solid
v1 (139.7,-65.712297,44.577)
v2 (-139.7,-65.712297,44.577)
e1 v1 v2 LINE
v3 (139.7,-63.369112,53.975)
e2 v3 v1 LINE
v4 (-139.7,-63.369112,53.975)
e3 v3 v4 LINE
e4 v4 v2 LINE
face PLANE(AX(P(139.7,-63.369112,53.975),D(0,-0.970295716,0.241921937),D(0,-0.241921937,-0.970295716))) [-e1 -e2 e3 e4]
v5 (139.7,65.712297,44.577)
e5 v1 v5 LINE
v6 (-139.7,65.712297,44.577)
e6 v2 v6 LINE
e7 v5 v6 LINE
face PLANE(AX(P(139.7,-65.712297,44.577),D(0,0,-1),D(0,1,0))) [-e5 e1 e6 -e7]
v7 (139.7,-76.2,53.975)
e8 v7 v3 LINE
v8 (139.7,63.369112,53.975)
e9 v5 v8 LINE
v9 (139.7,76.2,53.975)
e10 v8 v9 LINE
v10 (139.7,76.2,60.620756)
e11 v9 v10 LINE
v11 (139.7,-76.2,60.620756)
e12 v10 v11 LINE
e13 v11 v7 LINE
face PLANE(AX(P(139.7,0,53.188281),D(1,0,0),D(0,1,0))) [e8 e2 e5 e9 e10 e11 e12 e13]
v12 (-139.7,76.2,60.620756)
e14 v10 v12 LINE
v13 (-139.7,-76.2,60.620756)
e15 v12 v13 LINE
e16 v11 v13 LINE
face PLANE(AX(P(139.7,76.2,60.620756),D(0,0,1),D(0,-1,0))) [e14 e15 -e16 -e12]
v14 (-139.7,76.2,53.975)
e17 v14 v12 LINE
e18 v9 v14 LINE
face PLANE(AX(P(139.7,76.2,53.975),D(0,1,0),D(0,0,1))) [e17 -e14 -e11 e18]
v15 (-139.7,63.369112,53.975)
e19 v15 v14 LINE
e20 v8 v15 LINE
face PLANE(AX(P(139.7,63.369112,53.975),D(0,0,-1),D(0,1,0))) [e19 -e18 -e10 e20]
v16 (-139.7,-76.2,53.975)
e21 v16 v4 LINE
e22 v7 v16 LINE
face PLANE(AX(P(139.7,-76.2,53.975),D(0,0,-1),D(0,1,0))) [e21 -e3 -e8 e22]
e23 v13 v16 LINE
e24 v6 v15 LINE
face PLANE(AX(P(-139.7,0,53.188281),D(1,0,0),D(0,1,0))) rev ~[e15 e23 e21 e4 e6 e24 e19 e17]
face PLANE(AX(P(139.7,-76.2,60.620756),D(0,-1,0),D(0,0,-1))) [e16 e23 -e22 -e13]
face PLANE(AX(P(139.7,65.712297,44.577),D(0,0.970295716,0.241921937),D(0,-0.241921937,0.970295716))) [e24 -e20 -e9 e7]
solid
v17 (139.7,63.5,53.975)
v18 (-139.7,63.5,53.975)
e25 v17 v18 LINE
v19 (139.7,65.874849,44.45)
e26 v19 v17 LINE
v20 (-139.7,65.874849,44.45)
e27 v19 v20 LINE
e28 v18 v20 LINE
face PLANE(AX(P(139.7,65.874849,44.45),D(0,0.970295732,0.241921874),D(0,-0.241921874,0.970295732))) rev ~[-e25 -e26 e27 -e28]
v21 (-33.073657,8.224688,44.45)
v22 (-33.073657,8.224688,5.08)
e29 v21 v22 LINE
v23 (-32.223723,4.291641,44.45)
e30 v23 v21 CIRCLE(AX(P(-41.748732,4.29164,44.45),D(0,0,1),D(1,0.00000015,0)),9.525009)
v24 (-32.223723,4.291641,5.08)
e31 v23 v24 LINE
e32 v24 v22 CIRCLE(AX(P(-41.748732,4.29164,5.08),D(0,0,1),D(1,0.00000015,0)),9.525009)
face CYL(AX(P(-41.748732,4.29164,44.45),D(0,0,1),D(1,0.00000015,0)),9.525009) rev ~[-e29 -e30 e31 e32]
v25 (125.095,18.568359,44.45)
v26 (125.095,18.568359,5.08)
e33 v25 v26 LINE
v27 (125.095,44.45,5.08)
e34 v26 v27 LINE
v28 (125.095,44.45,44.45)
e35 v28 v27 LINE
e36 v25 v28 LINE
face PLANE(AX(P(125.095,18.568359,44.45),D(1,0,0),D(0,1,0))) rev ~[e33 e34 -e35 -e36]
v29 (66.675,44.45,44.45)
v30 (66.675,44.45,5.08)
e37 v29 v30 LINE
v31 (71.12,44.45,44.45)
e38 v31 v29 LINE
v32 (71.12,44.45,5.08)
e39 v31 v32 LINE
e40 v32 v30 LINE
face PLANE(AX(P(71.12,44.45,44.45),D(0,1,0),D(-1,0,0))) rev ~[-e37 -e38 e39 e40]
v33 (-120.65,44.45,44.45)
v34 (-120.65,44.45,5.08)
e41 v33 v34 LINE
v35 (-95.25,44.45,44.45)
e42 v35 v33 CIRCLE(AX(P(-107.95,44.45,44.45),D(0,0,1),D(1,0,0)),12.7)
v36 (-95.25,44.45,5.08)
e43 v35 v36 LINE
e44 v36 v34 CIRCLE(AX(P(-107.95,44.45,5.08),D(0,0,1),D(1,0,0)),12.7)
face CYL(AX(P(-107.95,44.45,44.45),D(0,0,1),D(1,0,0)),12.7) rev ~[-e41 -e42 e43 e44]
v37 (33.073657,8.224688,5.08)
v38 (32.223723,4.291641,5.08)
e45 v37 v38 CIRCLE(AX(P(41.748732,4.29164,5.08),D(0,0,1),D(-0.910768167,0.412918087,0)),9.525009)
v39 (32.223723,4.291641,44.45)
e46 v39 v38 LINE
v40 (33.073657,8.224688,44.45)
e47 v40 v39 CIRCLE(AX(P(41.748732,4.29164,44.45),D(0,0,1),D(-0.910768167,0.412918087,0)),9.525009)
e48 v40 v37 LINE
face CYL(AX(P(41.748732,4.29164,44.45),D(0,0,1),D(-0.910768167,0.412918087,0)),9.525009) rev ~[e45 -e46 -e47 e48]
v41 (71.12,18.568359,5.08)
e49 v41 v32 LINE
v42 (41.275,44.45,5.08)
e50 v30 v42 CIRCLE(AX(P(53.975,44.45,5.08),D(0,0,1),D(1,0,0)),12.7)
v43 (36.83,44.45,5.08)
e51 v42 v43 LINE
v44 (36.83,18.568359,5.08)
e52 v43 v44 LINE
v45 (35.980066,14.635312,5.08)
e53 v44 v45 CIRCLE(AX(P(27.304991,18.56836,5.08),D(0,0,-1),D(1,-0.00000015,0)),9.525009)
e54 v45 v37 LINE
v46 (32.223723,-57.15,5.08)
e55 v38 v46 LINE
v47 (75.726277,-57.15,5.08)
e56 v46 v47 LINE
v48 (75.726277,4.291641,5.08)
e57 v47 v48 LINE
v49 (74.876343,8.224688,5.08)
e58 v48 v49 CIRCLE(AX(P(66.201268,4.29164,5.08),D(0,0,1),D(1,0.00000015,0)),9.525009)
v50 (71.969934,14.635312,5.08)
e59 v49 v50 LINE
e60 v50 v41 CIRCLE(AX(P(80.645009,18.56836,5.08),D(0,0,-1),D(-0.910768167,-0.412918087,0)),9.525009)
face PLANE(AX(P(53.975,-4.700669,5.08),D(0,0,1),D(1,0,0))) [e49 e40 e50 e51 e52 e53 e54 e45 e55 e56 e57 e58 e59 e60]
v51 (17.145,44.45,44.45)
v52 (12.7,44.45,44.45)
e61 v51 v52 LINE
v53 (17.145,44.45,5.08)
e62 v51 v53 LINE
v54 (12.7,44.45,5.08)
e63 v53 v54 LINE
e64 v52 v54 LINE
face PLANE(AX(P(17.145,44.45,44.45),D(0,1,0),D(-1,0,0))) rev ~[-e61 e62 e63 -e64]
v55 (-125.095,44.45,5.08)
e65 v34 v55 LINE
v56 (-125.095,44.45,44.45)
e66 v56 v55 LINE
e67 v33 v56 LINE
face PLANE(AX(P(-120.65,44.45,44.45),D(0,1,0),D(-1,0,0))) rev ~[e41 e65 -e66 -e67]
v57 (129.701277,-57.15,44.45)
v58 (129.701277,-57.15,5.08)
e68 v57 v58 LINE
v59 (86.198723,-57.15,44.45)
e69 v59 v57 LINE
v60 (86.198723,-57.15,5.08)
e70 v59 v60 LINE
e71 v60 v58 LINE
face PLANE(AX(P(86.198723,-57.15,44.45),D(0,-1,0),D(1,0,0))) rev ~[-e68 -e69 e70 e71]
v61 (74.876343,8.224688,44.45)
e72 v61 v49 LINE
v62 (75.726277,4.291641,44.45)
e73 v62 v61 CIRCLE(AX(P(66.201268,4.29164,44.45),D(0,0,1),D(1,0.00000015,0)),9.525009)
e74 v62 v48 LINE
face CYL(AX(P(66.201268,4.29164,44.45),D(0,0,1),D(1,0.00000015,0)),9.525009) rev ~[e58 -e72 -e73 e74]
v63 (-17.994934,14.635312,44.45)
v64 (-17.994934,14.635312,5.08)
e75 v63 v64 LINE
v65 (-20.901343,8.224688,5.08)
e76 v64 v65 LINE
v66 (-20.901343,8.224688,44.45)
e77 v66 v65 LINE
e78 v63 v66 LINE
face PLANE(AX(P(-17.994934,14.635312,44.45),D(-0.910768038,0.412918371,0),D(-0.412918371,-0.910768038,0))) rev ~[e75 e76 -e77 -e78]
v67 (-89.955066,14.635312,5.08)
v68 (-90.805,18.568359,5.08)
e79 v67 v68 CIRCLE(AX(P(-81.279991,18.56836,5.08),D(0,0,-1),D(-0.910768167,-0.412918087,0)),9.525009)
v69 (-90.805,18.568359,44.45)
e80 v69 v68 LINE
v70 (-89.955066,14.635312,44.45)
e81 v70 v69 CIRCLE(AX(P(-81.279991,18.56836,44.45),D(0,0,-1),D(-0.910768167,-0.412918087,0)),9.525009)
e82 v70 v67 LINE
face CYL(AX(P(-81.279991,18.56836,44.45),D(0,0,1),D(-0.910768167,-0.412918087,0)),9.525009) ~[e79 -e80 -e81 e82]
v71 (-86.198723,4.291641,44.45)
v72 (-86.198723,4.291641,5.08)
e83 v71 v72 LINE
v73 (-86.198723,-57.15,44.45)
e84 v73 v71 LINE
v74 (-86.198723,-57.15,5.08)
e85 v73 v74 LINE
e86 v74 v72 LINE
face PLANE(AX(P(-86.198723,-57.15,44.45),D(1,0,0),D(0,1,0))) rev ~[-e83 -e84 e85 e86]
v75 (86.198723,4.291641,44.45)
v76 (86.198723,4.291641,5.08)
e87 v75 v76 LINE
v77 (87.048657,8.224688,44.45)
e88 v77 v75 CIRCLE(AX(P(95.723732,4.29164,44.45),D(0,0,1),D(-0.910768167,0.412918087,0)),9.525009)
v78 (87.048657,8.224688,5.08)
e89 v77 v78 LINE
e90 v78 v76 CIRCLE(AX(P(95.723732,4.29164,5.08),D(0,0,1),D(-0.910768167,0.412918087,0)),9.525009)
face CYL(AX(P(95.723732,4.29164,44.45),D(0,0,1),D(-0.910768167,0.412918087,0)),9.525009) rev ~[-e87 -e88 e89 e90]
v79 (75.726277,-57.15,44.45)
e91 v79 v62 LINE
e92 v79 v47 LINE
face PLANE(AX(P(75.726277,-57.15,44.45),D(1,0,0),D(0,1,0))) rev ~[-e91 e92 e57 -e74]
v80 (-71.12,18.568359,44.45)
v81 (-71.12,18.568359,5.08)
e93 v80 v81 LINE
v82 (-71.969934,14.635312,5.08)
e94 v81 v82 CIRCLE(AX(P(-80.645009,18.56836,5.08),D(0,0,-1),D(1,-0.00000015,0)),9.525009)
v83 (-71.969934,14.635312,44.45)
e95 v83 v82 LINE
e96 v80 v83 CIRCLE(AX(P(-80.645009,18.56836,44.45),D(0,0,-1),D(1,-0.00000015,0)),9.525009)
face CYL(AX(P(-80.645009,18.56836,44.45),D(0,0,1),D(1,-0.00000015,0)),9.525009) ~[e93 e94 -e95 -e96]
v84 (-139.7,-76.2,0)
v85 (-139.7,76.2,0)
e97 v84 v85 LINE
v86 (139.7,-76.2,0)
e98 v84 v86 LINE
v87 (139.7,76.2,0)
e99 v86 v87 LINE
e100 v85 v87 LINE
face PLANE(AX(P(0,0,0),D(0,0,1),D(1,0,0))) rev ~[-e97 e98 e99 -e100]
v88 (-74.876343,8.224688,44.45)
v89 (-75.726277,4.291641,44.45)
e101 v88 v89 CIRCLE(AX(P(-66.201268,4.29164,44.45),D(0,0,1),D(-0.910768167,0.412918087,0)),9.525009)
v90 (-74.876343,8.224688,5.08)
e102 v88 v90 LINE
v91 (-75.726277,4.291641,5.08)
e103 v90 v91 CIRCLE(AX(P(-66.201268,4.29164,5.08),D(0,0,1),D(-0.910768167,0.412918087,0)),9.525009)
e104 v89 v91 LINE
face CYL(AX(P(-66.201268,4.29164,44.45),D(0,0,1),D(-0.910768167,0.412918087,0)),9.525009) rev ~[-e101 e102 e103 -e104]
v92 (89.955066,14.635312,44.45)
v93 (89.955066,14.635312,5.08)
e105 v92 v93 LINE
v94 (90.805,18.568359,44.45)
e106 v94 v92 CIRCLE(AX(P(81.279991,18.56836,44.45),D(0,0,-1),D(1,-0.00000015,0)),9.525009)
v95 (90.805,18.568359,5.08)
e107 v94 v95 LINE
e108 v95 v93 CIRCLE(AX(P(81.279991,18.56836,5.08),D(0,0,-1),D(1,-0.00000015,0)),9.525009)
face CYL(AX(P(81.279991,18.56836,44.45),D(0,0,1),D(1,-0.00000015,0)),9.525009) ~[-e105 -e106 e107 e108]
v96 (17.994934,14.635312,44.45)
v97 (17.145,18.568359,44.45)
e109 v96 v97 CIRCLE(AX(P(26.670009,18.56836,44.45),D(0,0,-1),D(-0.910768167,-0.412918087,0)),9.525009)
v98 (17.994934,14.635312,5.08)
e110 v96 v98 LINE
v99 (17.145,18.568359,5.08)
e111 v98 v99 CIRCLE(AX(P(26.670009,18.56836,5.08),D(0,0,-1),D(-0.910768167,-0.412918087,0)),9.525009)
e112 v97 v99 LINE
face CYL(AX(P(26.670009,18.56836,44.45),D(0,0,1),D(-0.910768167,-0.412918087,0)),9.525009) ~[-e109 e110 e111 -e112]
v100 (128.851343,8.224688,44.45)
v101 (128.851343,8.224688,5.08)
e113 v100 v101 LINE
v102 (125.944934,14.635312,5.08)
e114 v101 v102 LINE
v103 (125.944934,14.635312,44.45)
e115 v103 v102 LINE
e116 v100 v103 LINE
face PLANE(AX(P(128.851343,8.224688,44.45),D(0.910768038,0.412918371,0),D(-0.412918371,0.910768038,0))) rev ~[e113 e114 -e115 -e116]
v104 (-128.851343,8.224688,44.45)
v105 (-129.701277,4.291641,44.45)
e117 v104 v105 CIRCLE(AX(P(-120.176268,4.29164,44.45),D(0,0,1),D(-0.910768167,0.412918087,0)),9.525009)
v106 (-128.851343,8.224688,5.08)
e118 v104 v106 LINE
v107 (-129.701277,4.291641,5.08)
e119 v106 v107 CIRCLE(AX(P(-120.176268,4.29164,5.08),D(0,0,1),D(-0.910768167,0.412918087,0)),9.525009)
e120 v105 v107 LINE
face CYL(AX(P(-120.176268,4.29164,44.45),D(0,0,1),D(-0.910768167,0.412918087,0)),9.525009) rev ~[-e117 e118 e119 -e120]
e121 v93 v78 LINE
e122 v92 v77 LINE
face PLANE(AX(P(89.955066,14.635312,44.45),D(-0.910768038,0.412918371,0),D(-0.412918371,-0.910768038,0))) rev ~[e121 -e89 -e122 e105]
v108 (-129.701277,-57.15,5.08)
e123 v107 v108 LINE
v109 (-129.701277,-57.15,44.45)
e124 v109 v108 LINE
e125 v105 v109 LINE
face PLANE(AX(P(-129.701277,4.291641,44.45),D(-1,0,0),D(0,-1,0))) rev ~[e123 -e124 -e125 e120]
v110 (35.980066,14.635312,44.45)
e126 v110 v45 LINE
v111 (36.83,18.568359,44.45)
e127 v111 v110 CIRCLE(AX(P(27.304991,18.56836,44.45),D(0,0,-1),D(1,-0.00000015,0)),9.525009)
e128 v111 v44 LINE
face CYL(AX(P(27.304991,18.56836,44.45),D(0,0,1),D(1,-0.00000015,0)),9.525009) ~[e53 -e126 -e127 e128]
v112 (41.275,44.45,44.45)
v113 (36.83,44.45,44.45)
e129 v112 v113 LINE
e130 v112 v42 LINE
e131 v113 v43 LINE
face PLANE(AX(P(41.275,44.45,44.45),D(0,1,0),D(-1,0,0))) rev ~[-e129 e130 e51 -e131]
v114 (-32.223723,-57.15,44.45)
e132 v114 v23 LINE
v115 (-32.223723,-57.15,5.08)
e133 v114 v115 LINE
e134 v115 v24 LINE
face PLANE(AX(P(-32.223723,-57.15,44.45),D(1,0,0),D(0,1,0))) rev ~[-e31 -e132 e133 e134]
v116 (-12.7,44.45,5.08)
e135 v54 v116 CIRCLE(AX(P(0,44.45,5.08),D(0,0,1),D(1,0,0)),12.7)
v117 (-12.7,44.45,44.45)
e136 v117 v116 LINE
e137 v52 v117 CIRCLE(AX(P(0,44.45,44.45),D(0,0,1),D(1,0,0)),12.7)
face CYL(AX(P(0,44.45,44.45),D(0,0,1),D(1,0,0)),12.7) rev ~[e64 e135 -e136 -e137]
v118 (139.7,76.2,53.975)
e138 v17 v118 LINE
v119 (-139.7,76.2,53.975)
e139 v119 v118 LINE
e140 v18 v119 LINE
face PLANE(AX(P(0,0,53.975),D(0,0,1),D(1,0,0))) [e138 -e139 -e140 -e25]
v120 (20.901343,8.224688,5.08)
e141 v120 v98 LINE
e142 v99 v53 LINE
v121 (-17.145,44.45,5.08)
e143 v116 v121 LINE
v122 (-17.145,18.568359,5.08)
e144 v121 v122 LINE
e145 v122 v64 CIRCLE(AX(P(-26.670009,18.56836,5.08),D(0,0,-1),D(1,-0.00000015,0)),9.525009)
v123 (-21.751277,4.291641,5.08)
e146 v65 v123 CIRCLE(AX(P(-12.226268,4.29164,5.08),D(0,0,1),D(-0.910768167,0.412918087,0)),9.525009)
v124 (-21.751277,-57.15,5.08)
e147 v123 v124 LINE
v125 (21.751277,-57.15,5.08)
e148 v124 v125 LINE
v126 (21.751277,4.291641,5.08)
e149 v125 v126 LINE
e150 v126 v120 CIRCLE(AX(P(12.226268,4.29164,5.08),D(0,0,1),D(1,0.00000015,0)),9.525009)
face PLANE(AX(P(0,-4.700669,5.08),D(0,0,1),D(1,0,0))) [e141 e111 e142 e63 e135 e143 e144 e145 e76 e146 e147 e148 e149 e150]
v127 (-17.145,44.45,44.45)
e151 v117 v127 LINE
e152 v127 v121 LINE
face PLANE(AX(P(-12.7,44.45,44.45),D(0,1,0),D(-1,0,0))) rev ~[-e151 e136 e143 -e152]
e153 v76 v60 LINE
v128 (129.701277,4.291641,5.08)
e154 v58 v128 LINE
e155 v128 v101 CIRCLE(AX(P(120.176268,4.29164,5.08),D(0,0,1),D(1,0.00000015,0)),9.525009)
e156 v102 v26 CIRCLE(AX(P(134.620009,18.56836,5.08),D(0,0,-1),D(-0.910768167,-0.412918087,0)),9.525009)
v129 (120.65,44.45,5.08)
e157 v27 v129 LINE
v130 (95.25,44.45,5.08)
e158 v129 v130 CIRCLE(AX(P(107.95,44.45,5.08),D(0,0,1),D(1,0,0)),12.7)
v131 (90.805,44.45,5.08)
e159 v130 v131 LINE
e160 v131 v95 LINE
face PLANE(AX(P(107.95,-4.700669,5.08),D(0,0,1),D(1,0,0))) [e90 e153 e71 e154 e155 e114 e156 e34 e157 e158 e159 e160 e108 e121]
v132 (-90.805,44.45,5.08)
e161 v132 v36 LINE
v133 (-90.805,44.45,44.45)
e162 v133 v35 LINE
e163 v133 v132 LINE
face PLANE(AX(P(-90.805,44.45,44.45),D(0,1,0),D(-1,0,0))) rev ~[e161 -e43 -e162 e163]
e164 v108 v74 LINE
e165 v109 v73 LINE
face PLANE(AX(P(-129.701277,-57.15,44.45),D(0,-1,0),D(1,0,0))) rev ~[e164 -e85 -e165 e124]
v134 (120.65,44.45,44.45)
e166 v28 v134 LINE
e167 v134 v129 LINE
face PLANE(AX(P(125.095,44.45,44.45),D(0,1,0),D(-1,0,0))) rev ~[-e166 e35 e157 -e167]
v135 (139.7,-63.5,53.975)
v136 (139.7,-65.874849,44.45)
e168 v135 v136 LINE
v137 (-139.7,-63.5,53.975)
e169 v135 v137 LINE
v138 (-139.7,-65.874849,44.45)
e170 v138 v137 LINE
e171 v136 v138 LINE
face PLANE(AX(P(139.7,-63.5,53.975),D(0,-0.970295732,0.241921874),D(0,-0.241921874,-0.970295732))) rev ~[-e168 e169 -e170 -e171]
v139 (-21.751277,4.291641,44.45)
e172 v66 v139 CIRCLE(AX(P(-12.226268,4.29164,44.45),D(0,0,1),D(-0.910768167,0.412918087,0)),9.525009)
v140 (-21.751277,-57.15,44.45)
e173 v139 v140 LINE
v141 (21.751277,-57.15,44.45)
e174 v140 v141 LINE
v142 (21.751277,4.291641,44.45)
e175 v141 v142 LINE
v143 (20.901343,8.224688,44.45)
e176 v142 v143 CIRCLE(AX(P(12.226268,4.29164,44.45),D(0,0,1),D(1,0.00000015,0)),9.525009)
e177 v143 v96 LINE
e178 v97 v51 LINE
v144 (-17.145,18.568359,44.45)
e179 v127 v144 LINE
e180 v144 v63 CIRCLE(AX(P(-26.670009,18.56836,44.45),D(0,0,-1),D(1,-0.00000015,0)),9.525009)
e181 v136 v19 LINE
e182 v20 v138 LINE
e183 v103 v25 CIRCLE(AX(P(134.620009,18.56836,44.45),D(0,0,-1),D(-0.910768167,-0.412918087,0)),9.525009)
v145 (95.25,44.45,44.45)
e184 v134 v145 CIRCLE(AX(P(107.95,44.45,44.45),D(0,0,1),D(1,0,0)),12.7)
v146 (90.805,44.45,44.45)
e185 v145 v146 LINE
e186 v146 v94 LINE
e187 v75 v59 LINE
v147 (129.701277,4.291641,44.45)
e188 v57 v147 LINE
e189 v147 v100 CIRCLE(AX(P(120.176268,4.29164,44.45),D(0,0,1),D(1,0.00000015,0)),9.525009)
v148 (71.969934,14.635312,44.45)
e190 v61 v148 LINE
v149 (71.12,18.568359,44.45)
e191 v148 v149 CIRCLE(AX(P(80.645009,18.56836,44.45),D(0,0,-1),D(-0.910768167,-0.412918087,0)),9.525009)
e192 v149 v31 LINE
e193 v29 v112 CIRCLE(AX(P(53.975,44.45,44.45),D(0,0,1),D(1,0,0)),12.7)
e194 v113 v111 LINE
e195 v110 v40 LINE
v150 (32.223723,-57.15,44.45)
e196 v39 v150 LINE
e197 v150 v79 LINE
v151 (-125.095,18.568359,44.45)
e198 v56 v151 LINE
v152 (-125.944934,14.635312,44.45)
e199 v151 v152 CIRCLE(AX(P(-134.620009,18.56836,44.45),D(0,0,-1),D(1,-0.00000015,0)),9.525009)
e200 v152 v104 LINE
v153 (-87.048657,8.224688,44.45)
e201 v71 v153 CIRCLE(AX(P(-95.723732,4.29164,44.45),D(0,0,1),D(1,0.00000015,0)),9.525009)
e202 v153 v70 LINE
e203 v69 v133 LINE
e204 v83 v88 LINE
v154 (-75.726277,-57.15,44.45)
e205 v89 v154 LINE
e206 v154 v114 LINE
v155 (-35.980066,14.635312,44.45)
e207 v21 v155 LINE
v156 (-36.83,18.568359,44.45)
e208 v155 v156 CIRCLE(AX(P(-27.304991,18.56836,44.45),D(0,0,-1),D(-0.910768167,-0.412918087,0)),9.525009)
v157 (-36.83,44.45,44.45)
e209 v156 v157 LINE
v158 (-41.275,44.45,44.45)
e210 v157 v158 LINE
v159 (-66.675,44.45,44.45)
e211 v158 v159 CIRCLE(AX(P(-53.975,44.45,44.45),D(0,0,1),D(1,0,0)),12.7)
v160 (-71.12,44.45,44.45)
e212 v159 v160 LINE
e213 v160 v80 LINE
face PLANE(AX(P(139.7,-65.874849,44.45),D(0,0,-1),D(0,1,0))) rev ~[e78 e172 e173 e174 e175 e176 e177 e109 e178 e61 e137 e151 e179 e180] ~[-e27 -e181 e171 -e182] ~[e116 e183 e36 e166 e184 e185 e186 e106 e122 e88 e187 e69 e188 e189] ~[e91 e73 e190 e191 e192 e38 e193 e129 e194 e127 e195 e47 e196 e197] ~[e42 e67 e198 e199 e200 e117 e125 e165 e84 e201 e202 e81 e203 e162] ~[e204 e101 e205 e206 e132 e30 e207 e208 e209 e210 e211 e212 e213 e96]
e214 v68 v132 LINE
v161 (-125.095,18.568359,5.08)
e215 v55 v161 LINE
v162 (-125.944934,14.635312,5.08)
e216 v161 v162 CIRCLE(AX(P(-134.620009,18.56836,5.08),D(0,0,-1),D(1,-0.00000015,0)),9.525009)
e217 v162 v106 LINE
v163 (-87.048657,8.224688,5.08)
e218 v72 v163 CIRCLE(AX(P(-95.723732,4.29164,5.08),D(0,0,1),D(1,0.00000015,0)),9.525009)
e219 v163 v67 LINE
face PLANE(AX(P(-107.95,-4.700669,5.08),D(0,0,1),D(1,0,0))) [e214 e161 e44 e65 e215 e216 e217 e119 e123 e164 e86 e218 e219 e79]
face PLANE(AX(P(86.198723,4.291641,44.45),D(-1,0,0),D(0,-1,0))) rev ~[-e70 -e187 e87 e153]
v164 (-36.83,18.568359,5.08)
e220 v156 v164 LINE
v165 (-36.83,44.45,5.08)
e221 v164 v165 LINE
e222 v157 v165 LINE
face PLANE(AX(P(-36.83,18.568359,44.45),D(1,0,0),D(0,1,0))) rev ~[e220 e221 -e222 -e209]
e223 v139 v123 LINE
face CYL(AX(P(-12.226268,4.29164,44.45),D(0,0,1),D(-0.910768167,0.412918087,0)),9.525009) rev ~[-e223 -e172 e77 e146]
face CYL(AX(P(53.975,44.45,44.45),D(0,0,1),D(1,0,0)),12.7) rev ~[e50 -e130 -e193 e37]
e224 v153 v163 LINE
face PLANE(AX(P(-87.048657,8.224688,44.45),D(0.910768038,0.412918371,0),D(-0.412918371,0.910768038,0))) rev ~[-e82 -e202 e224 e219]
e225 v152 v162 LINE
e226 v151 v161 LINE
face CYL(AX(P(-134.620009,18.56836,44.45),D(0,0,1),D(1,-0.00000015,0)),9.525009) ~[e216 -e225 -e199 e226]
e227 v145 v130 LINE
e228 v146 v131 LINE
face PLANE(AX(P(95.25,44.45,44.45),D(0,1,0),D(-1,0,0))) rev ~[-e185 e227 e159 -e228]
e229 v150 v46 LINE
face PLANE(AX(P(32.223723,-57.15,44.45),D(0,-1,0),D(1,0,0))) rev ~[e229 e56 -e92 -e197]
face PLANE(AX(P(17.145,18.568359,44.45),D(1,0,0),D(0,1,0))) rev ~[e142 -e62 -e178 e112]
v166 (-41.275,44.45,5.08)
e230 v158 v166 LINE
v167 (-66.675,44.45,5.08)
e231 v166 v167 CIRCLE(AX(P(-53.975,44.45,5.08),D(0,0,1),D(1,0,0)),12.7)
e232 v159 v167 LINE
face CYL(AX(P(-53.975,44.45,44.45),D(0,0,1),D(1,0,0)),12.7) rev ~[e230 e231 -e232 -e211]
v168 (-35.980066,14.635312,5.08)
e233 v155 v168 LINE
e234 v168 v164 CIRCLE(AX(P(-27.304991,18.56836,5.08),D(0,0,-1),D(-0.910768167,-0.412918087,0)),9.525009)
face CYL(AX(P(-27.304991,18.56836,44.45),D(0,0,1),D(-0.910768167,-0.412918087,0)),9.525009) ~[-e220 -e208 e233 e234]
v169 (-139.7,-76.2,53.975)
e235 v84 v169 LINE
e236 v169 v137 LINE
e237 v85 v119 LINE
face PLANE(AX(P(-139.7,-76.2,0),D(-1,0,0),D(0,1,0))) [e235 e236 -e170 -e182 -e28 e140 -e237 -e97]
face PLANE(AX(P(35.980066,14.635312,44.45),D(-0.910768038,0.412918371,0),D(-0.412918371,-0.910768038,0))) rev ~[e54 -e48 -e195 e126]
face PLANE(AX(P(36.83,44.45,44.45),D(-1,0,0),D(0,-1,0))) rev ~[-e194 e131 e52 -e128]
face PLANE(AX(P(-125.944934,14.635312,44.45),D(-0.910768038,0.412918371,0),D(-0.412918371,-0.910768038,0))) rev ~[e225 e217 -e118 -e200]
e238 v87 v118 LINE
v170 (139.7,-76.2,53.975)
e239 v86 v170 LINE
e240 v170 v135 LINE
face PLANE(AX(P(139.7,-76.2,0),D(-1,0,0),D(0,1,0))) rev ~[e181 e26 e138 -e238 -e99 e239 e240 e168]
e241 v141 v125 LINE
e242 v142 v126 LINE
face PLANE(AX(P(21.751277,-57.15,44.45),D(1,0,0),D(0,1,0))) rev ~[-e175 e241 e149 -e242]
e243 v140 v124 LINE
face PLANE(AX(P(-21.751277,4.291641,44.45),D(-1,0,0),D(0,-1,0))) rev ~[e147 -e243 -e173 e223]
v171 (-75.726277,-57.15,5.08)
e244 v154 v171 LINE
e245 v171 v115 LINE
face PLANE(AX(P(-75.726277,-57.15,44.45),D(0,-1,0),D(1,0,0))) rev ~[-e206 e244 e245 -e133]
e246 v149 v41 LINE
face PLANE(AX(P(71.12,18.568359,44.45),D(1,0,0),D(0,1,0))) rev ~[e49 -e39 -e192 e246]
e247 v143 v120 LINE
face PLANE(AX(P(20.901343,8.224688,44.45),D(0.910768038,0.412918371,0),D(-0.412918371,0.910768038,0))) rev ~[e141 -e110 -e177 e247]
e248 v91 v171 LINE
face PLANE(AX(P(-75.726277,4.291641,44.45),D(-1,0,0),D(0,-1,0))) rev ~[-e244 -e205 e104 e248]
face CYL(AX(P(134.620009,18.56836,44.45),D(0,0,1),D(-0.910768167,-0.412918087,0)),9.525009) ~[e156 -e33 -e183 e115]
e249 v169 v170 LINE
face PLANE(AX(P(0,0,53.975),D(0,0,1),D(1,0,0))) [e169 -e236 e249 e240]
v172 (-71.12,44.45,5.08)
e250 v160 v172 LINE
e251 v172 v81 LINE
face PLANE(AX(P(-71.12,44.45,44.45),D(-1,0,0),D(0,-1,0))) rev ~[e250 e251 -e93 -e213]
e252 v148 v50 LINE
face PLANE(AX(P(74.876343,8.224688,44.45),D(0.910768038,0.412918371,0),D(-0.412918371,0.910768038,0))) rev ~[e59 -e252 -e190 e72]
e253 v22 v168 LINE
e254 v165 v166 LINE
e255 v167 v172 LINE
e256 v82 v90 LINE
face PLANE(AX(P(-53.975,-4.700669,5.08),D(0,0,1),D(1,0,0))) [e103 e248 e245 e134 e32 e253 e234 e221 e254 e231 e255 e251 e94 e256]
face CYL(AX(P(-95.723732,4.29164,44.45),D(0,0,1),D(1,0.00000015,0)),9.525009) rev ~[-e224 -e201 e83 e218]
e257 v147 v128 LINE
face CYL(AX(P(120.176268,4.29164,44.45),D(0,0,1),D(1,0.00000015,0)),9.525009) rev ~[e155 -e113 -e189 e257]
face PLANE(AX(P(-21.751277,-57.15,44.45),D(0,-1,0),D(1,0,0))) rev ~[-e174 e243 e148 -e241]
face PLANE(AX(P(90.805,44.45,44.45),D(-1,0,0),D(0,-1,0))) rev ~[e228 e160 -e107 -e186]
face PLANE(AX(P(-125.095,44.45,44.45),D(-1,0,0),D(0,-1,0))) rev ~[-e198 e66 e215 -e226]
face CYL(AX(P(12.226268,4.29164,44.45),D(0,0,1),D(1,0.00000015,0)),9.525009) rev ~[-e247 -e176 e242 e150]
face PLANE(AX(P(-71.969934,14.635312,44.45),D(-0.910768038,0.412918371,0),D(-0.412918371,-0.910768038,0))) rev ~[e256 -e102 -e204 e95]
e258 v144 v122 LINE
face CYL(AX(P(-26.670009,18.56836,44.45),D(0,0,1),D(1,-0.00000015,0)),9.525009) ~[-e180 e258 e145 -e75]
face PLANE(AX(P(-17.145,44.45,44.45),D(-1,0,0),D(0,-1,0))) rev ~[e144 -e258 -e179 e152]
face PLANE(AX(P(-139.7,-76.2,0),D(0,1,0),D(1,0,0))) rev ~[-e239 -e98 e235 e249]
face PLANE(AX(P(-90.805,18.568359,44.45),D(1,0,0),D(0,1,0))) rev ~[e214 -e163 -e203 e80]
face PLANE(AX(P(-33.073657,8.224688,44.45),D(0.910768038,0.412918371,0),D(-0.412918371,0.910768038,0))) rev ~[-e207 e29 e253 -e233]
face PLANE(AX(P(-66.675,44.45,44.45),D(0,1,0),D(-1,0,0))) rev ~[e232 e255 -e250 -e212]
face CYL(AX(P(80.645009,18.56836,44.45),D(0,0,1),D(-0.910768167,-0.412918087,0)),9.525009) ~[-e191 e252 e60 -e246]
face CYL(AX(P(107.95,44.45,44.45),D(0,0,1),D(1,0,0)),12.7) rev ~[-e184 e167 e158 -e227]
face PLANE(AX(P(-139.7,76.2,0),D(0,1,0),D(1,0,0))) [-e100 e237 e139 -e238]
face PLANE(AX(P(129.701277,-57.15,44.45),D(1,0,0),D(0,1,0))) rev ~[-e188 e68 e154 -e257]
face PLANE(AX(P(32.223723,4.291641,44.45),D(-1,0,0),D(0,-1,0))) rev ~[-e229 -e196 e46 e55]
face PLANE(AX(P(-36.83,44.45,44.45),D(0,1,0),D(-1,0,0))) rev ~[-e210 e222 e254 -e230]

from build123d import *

# Parameters (mm, degrees)
F0_W     = 279.4
F0_H     = 152.4
F1_DEPTH = 53.975
F3_DEPTH = 279.401
F5_DEPTH = 39.37
F7_DEPTH = 279.4


with BuildPart() as f1:
    # F0 (on Top) → F1 (new body)
    with BuildSketch(Plane.XY):
        Rectangle(F0_W, F0_H)
    extrude(amount=F1_DEPTH)

    # F2 (on face) → F3 (cut, through all)
    with BuildSketch(Plane.YZ.offset(139.7)):
        Polygon((-63.5, 53.975), (-65.874849, 44.45), (65.874849, 44.45), (63.5, 53.975), align=None)
    extrude(amount=-F3_DEPTH, mode=Mode.SUBTRACT)

    # F4 (on face) → F5 (cut)
    with BuildSketch(Plane.XY.offset(44.45)):
        with BuildLine():
            Line((-129.701277, -57.15), (-86.198723, -57.15))
            Line((-86.198723, -57.15), (-86.198723, 4.291641))
            ThreePointArc((-86.198723, 4.291641), (-86.413631, 6.303558), (-87.048657, 8.224688))
            Line((-87.048657, 8.224688), (-89.955066, 14.635312))
            ThreePointArc((-89.955066, 14.635312), (-90.590092, 16.556442), (-90.805, 18.568359))
            Line((-90.805, 18.568359), (-90.805, 44.45))
            Line((-90.805, 44.45), (-95.25, 44.45))
            ThreePointArc((-95.25, 44.45), (-107.95, 57.15), (-120.65, 44.45))
            Line((-120.65, 44.45), (-125.095, 44.45))
            Line((-125.095, 44.45), (-125.095, 18.568359))
            ThreePointArc((-125.095, 18.568359), (-125.309908, 16.556442), (-125.944934, 14.635312))
            Line((-125.944934, 14.635312), (-128.851343, 8.224688))
            ThreePointArc((-128.851343, 8.224688), (-129.486369, 6.303558), (-129.701277, 4.291641))
            Line((-129.701277, 4.291641), (-129.701277, -57.15))
        make_face()
        with BuildLine():
            Line((-36.83, 18.568359), (-36.83, 44.45))
            Line((-36.83, 44.45), (-41.275, 44.45))
            ThreePointArc((-41.275, 44.45), (-53.975, 57.15), (-66.675, 44.45))
            Line((-66.675, 44.45), (-71.12, 44.45))
            Line((-71.12, 44.45), (-71.12, 18.568359))
            ThreePointArc((-71.12, 18.568359), (-71.334908, 16.556442), (-71.969934, 14.635312))
            Line((-71.969934, 14.635312), (-74.876343, 8.224688))
            ThreePointArc((-74.876343, 8.224688), (-75.511369, 6.303558), (-75.726277, 4.291641))
            Line((-75.726277, 4.291641), (-75.726277, -57.15))
            Line((-75.726277, -57.15), (-32.223723, -57.15))
            Line((-32.223723, -57.15), (-32.223723, 4.291641))
            ThreePointArc((-32.223723, 4.291641), (-32.438631, 6.303558), (-33.073657, 8.224688))
            Line((-33.073657, 8.224688), (-35.980066, 14.635312))
            ThreePointArc((-35.980066, 14.635312), (-36.615092, 16.556442), (-36.83, 18.568359))
        make_face()
        with BuildLine():
            Line((17.145, 18.568359), (17.145, 44.45))
            Line((17.145, 44.45), (12.7, 44.45))
            ThreePointArc((12.7, 44.45), (0, 57.15), (-12.7, 44.45))
            Line((-12.7, 44.45), (-17.145, 44.45))
            Line((-17.145, 44.45), (-17.145, 18.568359))
            ThreePointArc((-17.145, 18.568359), (-17.359908, 16.556442), (-17.994934, 14.635312))
            Line((-17.994934, 14.635312), (-20.901343, 8.224688))
            ThreePointArc((-20.901343, 8.224688), (-21.536369, 6.303558), (-21.751277, 4.291641))
            Line((-21.751277, 4.291641), (-21.751277, -57.15))
            Line((-21.751277, -57.15), (21.751277, -57.15))
            Line((21.751277, -57.15), (21.751277, 4.291641))
            ThreePointArc((21.751277, 4.291641), (21.536369, 6.303558), (20.901343, 8.224688))
            Line((20.901343, 8.224688), (17.994934, 14.635312))
            ThreePointArc((17.994934, 14.635312), (17.359908, 16.556442), (17.145, 18.568359))
        make_face()
        with BuildLine():
            Line((71.12, 18.568359), (71.12, 44.45))
            Line((71.12, 44.45), (66.675, 44.45))
            ThreePointArc((66.675, 44.45), (53.975, 57.15), (41.275, 44.45))
            Line((41.275, 44.45), (36.83, 44.45))
            Line((36.83, 44.45), (36.83, 18.568359))
            ThreePointArc((36.83, 18.568359), (36.615092, 16.556442), (35.980066, 14.635312))
            Line((35.980066, 14.635312), (33.073657, 8.224688))
            ThreePointArc((33.073657, 8.224688), (32.438631, 6.303558), (32.223723, 4.291641))
            Line((32.223723, 4.291641), (32.223723, -57.15))
            Line((32.223723, -57.15), (75.726277, -57.15))
            Line((75.726277, -57.15), (75.726277, 4.291641))
            ThreePointArc((75.726277, 4.291641), (75.511369, 6.303558), (74.876343, 8.224688))
            Line((74.876343, 8.224688), (71.969934, 14.635312))
            ThreePointArc((71.969934, 14.635312), (71.334908, 16.556442), (71.12, 18.568359))
        make_face()
        with BuildLine():
            Line((125.095, 18.568359), (125.095, 44.45))
            Line((125.095, 44.45), (120.65, 44.45))
            ThreePointArc((120.65, 44.45), (107.95, 57.15), (95.25, 44.45))
            Line((95.25, 44.45), (90.805, 44.45))
            Line((90.805, 44.45), (90.805, 18.568359))
            ThreePointArc((90.805, 18.568359), (90.590092, 16.556442), (89.955066, 14.635312))
            Line((89.955066, 14.635312), (87.048657, 8.224688))
            ThreePointArc((87.048657, 8.224688), (86.413631, 6.303558), (86.198723, 4.291641))
            Line((86.198723, 4.291641), (86.198723, -57.15))
            Line((86.198723, -57.15), (129.701277, -57.15))
            Line((129.701277, -57.15), (129.701277, 4.291641))
            ThreePointArc((129.701277, 4.291641), (129.486369, 6.303558), (128.851343, 8.224688))
            Line((128.851343, 8.224688), (125.944934, 14.635312))
            ThreePointArc((125.944934, 14.635312), (125.309908, 16.556442), (125.095, 18.568359))
        make_face()
    extrude(amount=-F5_DEPTH, mode=Mode.SUBTRACT)


with BuildPart() as f7:
    # F6 (on face) → F7 (new body, through all)
    with BuildSketch(Plane.YZ.offset(139.7)):
        Polygon((-76.2, 60.620756), (-76.2, 53.975), (-63.5, 53.975), (-63.369112, 53.975), (-65.712297, 44.577), (65.712297, 44.577), (63.369112, 53.975), (63.5, 53.975), (76.2, 53.975), (76.2, 60.620756), align=None)
    extrude(amount=-F7_DEPTH)


solid = Compound([f1.part, f7.part])
